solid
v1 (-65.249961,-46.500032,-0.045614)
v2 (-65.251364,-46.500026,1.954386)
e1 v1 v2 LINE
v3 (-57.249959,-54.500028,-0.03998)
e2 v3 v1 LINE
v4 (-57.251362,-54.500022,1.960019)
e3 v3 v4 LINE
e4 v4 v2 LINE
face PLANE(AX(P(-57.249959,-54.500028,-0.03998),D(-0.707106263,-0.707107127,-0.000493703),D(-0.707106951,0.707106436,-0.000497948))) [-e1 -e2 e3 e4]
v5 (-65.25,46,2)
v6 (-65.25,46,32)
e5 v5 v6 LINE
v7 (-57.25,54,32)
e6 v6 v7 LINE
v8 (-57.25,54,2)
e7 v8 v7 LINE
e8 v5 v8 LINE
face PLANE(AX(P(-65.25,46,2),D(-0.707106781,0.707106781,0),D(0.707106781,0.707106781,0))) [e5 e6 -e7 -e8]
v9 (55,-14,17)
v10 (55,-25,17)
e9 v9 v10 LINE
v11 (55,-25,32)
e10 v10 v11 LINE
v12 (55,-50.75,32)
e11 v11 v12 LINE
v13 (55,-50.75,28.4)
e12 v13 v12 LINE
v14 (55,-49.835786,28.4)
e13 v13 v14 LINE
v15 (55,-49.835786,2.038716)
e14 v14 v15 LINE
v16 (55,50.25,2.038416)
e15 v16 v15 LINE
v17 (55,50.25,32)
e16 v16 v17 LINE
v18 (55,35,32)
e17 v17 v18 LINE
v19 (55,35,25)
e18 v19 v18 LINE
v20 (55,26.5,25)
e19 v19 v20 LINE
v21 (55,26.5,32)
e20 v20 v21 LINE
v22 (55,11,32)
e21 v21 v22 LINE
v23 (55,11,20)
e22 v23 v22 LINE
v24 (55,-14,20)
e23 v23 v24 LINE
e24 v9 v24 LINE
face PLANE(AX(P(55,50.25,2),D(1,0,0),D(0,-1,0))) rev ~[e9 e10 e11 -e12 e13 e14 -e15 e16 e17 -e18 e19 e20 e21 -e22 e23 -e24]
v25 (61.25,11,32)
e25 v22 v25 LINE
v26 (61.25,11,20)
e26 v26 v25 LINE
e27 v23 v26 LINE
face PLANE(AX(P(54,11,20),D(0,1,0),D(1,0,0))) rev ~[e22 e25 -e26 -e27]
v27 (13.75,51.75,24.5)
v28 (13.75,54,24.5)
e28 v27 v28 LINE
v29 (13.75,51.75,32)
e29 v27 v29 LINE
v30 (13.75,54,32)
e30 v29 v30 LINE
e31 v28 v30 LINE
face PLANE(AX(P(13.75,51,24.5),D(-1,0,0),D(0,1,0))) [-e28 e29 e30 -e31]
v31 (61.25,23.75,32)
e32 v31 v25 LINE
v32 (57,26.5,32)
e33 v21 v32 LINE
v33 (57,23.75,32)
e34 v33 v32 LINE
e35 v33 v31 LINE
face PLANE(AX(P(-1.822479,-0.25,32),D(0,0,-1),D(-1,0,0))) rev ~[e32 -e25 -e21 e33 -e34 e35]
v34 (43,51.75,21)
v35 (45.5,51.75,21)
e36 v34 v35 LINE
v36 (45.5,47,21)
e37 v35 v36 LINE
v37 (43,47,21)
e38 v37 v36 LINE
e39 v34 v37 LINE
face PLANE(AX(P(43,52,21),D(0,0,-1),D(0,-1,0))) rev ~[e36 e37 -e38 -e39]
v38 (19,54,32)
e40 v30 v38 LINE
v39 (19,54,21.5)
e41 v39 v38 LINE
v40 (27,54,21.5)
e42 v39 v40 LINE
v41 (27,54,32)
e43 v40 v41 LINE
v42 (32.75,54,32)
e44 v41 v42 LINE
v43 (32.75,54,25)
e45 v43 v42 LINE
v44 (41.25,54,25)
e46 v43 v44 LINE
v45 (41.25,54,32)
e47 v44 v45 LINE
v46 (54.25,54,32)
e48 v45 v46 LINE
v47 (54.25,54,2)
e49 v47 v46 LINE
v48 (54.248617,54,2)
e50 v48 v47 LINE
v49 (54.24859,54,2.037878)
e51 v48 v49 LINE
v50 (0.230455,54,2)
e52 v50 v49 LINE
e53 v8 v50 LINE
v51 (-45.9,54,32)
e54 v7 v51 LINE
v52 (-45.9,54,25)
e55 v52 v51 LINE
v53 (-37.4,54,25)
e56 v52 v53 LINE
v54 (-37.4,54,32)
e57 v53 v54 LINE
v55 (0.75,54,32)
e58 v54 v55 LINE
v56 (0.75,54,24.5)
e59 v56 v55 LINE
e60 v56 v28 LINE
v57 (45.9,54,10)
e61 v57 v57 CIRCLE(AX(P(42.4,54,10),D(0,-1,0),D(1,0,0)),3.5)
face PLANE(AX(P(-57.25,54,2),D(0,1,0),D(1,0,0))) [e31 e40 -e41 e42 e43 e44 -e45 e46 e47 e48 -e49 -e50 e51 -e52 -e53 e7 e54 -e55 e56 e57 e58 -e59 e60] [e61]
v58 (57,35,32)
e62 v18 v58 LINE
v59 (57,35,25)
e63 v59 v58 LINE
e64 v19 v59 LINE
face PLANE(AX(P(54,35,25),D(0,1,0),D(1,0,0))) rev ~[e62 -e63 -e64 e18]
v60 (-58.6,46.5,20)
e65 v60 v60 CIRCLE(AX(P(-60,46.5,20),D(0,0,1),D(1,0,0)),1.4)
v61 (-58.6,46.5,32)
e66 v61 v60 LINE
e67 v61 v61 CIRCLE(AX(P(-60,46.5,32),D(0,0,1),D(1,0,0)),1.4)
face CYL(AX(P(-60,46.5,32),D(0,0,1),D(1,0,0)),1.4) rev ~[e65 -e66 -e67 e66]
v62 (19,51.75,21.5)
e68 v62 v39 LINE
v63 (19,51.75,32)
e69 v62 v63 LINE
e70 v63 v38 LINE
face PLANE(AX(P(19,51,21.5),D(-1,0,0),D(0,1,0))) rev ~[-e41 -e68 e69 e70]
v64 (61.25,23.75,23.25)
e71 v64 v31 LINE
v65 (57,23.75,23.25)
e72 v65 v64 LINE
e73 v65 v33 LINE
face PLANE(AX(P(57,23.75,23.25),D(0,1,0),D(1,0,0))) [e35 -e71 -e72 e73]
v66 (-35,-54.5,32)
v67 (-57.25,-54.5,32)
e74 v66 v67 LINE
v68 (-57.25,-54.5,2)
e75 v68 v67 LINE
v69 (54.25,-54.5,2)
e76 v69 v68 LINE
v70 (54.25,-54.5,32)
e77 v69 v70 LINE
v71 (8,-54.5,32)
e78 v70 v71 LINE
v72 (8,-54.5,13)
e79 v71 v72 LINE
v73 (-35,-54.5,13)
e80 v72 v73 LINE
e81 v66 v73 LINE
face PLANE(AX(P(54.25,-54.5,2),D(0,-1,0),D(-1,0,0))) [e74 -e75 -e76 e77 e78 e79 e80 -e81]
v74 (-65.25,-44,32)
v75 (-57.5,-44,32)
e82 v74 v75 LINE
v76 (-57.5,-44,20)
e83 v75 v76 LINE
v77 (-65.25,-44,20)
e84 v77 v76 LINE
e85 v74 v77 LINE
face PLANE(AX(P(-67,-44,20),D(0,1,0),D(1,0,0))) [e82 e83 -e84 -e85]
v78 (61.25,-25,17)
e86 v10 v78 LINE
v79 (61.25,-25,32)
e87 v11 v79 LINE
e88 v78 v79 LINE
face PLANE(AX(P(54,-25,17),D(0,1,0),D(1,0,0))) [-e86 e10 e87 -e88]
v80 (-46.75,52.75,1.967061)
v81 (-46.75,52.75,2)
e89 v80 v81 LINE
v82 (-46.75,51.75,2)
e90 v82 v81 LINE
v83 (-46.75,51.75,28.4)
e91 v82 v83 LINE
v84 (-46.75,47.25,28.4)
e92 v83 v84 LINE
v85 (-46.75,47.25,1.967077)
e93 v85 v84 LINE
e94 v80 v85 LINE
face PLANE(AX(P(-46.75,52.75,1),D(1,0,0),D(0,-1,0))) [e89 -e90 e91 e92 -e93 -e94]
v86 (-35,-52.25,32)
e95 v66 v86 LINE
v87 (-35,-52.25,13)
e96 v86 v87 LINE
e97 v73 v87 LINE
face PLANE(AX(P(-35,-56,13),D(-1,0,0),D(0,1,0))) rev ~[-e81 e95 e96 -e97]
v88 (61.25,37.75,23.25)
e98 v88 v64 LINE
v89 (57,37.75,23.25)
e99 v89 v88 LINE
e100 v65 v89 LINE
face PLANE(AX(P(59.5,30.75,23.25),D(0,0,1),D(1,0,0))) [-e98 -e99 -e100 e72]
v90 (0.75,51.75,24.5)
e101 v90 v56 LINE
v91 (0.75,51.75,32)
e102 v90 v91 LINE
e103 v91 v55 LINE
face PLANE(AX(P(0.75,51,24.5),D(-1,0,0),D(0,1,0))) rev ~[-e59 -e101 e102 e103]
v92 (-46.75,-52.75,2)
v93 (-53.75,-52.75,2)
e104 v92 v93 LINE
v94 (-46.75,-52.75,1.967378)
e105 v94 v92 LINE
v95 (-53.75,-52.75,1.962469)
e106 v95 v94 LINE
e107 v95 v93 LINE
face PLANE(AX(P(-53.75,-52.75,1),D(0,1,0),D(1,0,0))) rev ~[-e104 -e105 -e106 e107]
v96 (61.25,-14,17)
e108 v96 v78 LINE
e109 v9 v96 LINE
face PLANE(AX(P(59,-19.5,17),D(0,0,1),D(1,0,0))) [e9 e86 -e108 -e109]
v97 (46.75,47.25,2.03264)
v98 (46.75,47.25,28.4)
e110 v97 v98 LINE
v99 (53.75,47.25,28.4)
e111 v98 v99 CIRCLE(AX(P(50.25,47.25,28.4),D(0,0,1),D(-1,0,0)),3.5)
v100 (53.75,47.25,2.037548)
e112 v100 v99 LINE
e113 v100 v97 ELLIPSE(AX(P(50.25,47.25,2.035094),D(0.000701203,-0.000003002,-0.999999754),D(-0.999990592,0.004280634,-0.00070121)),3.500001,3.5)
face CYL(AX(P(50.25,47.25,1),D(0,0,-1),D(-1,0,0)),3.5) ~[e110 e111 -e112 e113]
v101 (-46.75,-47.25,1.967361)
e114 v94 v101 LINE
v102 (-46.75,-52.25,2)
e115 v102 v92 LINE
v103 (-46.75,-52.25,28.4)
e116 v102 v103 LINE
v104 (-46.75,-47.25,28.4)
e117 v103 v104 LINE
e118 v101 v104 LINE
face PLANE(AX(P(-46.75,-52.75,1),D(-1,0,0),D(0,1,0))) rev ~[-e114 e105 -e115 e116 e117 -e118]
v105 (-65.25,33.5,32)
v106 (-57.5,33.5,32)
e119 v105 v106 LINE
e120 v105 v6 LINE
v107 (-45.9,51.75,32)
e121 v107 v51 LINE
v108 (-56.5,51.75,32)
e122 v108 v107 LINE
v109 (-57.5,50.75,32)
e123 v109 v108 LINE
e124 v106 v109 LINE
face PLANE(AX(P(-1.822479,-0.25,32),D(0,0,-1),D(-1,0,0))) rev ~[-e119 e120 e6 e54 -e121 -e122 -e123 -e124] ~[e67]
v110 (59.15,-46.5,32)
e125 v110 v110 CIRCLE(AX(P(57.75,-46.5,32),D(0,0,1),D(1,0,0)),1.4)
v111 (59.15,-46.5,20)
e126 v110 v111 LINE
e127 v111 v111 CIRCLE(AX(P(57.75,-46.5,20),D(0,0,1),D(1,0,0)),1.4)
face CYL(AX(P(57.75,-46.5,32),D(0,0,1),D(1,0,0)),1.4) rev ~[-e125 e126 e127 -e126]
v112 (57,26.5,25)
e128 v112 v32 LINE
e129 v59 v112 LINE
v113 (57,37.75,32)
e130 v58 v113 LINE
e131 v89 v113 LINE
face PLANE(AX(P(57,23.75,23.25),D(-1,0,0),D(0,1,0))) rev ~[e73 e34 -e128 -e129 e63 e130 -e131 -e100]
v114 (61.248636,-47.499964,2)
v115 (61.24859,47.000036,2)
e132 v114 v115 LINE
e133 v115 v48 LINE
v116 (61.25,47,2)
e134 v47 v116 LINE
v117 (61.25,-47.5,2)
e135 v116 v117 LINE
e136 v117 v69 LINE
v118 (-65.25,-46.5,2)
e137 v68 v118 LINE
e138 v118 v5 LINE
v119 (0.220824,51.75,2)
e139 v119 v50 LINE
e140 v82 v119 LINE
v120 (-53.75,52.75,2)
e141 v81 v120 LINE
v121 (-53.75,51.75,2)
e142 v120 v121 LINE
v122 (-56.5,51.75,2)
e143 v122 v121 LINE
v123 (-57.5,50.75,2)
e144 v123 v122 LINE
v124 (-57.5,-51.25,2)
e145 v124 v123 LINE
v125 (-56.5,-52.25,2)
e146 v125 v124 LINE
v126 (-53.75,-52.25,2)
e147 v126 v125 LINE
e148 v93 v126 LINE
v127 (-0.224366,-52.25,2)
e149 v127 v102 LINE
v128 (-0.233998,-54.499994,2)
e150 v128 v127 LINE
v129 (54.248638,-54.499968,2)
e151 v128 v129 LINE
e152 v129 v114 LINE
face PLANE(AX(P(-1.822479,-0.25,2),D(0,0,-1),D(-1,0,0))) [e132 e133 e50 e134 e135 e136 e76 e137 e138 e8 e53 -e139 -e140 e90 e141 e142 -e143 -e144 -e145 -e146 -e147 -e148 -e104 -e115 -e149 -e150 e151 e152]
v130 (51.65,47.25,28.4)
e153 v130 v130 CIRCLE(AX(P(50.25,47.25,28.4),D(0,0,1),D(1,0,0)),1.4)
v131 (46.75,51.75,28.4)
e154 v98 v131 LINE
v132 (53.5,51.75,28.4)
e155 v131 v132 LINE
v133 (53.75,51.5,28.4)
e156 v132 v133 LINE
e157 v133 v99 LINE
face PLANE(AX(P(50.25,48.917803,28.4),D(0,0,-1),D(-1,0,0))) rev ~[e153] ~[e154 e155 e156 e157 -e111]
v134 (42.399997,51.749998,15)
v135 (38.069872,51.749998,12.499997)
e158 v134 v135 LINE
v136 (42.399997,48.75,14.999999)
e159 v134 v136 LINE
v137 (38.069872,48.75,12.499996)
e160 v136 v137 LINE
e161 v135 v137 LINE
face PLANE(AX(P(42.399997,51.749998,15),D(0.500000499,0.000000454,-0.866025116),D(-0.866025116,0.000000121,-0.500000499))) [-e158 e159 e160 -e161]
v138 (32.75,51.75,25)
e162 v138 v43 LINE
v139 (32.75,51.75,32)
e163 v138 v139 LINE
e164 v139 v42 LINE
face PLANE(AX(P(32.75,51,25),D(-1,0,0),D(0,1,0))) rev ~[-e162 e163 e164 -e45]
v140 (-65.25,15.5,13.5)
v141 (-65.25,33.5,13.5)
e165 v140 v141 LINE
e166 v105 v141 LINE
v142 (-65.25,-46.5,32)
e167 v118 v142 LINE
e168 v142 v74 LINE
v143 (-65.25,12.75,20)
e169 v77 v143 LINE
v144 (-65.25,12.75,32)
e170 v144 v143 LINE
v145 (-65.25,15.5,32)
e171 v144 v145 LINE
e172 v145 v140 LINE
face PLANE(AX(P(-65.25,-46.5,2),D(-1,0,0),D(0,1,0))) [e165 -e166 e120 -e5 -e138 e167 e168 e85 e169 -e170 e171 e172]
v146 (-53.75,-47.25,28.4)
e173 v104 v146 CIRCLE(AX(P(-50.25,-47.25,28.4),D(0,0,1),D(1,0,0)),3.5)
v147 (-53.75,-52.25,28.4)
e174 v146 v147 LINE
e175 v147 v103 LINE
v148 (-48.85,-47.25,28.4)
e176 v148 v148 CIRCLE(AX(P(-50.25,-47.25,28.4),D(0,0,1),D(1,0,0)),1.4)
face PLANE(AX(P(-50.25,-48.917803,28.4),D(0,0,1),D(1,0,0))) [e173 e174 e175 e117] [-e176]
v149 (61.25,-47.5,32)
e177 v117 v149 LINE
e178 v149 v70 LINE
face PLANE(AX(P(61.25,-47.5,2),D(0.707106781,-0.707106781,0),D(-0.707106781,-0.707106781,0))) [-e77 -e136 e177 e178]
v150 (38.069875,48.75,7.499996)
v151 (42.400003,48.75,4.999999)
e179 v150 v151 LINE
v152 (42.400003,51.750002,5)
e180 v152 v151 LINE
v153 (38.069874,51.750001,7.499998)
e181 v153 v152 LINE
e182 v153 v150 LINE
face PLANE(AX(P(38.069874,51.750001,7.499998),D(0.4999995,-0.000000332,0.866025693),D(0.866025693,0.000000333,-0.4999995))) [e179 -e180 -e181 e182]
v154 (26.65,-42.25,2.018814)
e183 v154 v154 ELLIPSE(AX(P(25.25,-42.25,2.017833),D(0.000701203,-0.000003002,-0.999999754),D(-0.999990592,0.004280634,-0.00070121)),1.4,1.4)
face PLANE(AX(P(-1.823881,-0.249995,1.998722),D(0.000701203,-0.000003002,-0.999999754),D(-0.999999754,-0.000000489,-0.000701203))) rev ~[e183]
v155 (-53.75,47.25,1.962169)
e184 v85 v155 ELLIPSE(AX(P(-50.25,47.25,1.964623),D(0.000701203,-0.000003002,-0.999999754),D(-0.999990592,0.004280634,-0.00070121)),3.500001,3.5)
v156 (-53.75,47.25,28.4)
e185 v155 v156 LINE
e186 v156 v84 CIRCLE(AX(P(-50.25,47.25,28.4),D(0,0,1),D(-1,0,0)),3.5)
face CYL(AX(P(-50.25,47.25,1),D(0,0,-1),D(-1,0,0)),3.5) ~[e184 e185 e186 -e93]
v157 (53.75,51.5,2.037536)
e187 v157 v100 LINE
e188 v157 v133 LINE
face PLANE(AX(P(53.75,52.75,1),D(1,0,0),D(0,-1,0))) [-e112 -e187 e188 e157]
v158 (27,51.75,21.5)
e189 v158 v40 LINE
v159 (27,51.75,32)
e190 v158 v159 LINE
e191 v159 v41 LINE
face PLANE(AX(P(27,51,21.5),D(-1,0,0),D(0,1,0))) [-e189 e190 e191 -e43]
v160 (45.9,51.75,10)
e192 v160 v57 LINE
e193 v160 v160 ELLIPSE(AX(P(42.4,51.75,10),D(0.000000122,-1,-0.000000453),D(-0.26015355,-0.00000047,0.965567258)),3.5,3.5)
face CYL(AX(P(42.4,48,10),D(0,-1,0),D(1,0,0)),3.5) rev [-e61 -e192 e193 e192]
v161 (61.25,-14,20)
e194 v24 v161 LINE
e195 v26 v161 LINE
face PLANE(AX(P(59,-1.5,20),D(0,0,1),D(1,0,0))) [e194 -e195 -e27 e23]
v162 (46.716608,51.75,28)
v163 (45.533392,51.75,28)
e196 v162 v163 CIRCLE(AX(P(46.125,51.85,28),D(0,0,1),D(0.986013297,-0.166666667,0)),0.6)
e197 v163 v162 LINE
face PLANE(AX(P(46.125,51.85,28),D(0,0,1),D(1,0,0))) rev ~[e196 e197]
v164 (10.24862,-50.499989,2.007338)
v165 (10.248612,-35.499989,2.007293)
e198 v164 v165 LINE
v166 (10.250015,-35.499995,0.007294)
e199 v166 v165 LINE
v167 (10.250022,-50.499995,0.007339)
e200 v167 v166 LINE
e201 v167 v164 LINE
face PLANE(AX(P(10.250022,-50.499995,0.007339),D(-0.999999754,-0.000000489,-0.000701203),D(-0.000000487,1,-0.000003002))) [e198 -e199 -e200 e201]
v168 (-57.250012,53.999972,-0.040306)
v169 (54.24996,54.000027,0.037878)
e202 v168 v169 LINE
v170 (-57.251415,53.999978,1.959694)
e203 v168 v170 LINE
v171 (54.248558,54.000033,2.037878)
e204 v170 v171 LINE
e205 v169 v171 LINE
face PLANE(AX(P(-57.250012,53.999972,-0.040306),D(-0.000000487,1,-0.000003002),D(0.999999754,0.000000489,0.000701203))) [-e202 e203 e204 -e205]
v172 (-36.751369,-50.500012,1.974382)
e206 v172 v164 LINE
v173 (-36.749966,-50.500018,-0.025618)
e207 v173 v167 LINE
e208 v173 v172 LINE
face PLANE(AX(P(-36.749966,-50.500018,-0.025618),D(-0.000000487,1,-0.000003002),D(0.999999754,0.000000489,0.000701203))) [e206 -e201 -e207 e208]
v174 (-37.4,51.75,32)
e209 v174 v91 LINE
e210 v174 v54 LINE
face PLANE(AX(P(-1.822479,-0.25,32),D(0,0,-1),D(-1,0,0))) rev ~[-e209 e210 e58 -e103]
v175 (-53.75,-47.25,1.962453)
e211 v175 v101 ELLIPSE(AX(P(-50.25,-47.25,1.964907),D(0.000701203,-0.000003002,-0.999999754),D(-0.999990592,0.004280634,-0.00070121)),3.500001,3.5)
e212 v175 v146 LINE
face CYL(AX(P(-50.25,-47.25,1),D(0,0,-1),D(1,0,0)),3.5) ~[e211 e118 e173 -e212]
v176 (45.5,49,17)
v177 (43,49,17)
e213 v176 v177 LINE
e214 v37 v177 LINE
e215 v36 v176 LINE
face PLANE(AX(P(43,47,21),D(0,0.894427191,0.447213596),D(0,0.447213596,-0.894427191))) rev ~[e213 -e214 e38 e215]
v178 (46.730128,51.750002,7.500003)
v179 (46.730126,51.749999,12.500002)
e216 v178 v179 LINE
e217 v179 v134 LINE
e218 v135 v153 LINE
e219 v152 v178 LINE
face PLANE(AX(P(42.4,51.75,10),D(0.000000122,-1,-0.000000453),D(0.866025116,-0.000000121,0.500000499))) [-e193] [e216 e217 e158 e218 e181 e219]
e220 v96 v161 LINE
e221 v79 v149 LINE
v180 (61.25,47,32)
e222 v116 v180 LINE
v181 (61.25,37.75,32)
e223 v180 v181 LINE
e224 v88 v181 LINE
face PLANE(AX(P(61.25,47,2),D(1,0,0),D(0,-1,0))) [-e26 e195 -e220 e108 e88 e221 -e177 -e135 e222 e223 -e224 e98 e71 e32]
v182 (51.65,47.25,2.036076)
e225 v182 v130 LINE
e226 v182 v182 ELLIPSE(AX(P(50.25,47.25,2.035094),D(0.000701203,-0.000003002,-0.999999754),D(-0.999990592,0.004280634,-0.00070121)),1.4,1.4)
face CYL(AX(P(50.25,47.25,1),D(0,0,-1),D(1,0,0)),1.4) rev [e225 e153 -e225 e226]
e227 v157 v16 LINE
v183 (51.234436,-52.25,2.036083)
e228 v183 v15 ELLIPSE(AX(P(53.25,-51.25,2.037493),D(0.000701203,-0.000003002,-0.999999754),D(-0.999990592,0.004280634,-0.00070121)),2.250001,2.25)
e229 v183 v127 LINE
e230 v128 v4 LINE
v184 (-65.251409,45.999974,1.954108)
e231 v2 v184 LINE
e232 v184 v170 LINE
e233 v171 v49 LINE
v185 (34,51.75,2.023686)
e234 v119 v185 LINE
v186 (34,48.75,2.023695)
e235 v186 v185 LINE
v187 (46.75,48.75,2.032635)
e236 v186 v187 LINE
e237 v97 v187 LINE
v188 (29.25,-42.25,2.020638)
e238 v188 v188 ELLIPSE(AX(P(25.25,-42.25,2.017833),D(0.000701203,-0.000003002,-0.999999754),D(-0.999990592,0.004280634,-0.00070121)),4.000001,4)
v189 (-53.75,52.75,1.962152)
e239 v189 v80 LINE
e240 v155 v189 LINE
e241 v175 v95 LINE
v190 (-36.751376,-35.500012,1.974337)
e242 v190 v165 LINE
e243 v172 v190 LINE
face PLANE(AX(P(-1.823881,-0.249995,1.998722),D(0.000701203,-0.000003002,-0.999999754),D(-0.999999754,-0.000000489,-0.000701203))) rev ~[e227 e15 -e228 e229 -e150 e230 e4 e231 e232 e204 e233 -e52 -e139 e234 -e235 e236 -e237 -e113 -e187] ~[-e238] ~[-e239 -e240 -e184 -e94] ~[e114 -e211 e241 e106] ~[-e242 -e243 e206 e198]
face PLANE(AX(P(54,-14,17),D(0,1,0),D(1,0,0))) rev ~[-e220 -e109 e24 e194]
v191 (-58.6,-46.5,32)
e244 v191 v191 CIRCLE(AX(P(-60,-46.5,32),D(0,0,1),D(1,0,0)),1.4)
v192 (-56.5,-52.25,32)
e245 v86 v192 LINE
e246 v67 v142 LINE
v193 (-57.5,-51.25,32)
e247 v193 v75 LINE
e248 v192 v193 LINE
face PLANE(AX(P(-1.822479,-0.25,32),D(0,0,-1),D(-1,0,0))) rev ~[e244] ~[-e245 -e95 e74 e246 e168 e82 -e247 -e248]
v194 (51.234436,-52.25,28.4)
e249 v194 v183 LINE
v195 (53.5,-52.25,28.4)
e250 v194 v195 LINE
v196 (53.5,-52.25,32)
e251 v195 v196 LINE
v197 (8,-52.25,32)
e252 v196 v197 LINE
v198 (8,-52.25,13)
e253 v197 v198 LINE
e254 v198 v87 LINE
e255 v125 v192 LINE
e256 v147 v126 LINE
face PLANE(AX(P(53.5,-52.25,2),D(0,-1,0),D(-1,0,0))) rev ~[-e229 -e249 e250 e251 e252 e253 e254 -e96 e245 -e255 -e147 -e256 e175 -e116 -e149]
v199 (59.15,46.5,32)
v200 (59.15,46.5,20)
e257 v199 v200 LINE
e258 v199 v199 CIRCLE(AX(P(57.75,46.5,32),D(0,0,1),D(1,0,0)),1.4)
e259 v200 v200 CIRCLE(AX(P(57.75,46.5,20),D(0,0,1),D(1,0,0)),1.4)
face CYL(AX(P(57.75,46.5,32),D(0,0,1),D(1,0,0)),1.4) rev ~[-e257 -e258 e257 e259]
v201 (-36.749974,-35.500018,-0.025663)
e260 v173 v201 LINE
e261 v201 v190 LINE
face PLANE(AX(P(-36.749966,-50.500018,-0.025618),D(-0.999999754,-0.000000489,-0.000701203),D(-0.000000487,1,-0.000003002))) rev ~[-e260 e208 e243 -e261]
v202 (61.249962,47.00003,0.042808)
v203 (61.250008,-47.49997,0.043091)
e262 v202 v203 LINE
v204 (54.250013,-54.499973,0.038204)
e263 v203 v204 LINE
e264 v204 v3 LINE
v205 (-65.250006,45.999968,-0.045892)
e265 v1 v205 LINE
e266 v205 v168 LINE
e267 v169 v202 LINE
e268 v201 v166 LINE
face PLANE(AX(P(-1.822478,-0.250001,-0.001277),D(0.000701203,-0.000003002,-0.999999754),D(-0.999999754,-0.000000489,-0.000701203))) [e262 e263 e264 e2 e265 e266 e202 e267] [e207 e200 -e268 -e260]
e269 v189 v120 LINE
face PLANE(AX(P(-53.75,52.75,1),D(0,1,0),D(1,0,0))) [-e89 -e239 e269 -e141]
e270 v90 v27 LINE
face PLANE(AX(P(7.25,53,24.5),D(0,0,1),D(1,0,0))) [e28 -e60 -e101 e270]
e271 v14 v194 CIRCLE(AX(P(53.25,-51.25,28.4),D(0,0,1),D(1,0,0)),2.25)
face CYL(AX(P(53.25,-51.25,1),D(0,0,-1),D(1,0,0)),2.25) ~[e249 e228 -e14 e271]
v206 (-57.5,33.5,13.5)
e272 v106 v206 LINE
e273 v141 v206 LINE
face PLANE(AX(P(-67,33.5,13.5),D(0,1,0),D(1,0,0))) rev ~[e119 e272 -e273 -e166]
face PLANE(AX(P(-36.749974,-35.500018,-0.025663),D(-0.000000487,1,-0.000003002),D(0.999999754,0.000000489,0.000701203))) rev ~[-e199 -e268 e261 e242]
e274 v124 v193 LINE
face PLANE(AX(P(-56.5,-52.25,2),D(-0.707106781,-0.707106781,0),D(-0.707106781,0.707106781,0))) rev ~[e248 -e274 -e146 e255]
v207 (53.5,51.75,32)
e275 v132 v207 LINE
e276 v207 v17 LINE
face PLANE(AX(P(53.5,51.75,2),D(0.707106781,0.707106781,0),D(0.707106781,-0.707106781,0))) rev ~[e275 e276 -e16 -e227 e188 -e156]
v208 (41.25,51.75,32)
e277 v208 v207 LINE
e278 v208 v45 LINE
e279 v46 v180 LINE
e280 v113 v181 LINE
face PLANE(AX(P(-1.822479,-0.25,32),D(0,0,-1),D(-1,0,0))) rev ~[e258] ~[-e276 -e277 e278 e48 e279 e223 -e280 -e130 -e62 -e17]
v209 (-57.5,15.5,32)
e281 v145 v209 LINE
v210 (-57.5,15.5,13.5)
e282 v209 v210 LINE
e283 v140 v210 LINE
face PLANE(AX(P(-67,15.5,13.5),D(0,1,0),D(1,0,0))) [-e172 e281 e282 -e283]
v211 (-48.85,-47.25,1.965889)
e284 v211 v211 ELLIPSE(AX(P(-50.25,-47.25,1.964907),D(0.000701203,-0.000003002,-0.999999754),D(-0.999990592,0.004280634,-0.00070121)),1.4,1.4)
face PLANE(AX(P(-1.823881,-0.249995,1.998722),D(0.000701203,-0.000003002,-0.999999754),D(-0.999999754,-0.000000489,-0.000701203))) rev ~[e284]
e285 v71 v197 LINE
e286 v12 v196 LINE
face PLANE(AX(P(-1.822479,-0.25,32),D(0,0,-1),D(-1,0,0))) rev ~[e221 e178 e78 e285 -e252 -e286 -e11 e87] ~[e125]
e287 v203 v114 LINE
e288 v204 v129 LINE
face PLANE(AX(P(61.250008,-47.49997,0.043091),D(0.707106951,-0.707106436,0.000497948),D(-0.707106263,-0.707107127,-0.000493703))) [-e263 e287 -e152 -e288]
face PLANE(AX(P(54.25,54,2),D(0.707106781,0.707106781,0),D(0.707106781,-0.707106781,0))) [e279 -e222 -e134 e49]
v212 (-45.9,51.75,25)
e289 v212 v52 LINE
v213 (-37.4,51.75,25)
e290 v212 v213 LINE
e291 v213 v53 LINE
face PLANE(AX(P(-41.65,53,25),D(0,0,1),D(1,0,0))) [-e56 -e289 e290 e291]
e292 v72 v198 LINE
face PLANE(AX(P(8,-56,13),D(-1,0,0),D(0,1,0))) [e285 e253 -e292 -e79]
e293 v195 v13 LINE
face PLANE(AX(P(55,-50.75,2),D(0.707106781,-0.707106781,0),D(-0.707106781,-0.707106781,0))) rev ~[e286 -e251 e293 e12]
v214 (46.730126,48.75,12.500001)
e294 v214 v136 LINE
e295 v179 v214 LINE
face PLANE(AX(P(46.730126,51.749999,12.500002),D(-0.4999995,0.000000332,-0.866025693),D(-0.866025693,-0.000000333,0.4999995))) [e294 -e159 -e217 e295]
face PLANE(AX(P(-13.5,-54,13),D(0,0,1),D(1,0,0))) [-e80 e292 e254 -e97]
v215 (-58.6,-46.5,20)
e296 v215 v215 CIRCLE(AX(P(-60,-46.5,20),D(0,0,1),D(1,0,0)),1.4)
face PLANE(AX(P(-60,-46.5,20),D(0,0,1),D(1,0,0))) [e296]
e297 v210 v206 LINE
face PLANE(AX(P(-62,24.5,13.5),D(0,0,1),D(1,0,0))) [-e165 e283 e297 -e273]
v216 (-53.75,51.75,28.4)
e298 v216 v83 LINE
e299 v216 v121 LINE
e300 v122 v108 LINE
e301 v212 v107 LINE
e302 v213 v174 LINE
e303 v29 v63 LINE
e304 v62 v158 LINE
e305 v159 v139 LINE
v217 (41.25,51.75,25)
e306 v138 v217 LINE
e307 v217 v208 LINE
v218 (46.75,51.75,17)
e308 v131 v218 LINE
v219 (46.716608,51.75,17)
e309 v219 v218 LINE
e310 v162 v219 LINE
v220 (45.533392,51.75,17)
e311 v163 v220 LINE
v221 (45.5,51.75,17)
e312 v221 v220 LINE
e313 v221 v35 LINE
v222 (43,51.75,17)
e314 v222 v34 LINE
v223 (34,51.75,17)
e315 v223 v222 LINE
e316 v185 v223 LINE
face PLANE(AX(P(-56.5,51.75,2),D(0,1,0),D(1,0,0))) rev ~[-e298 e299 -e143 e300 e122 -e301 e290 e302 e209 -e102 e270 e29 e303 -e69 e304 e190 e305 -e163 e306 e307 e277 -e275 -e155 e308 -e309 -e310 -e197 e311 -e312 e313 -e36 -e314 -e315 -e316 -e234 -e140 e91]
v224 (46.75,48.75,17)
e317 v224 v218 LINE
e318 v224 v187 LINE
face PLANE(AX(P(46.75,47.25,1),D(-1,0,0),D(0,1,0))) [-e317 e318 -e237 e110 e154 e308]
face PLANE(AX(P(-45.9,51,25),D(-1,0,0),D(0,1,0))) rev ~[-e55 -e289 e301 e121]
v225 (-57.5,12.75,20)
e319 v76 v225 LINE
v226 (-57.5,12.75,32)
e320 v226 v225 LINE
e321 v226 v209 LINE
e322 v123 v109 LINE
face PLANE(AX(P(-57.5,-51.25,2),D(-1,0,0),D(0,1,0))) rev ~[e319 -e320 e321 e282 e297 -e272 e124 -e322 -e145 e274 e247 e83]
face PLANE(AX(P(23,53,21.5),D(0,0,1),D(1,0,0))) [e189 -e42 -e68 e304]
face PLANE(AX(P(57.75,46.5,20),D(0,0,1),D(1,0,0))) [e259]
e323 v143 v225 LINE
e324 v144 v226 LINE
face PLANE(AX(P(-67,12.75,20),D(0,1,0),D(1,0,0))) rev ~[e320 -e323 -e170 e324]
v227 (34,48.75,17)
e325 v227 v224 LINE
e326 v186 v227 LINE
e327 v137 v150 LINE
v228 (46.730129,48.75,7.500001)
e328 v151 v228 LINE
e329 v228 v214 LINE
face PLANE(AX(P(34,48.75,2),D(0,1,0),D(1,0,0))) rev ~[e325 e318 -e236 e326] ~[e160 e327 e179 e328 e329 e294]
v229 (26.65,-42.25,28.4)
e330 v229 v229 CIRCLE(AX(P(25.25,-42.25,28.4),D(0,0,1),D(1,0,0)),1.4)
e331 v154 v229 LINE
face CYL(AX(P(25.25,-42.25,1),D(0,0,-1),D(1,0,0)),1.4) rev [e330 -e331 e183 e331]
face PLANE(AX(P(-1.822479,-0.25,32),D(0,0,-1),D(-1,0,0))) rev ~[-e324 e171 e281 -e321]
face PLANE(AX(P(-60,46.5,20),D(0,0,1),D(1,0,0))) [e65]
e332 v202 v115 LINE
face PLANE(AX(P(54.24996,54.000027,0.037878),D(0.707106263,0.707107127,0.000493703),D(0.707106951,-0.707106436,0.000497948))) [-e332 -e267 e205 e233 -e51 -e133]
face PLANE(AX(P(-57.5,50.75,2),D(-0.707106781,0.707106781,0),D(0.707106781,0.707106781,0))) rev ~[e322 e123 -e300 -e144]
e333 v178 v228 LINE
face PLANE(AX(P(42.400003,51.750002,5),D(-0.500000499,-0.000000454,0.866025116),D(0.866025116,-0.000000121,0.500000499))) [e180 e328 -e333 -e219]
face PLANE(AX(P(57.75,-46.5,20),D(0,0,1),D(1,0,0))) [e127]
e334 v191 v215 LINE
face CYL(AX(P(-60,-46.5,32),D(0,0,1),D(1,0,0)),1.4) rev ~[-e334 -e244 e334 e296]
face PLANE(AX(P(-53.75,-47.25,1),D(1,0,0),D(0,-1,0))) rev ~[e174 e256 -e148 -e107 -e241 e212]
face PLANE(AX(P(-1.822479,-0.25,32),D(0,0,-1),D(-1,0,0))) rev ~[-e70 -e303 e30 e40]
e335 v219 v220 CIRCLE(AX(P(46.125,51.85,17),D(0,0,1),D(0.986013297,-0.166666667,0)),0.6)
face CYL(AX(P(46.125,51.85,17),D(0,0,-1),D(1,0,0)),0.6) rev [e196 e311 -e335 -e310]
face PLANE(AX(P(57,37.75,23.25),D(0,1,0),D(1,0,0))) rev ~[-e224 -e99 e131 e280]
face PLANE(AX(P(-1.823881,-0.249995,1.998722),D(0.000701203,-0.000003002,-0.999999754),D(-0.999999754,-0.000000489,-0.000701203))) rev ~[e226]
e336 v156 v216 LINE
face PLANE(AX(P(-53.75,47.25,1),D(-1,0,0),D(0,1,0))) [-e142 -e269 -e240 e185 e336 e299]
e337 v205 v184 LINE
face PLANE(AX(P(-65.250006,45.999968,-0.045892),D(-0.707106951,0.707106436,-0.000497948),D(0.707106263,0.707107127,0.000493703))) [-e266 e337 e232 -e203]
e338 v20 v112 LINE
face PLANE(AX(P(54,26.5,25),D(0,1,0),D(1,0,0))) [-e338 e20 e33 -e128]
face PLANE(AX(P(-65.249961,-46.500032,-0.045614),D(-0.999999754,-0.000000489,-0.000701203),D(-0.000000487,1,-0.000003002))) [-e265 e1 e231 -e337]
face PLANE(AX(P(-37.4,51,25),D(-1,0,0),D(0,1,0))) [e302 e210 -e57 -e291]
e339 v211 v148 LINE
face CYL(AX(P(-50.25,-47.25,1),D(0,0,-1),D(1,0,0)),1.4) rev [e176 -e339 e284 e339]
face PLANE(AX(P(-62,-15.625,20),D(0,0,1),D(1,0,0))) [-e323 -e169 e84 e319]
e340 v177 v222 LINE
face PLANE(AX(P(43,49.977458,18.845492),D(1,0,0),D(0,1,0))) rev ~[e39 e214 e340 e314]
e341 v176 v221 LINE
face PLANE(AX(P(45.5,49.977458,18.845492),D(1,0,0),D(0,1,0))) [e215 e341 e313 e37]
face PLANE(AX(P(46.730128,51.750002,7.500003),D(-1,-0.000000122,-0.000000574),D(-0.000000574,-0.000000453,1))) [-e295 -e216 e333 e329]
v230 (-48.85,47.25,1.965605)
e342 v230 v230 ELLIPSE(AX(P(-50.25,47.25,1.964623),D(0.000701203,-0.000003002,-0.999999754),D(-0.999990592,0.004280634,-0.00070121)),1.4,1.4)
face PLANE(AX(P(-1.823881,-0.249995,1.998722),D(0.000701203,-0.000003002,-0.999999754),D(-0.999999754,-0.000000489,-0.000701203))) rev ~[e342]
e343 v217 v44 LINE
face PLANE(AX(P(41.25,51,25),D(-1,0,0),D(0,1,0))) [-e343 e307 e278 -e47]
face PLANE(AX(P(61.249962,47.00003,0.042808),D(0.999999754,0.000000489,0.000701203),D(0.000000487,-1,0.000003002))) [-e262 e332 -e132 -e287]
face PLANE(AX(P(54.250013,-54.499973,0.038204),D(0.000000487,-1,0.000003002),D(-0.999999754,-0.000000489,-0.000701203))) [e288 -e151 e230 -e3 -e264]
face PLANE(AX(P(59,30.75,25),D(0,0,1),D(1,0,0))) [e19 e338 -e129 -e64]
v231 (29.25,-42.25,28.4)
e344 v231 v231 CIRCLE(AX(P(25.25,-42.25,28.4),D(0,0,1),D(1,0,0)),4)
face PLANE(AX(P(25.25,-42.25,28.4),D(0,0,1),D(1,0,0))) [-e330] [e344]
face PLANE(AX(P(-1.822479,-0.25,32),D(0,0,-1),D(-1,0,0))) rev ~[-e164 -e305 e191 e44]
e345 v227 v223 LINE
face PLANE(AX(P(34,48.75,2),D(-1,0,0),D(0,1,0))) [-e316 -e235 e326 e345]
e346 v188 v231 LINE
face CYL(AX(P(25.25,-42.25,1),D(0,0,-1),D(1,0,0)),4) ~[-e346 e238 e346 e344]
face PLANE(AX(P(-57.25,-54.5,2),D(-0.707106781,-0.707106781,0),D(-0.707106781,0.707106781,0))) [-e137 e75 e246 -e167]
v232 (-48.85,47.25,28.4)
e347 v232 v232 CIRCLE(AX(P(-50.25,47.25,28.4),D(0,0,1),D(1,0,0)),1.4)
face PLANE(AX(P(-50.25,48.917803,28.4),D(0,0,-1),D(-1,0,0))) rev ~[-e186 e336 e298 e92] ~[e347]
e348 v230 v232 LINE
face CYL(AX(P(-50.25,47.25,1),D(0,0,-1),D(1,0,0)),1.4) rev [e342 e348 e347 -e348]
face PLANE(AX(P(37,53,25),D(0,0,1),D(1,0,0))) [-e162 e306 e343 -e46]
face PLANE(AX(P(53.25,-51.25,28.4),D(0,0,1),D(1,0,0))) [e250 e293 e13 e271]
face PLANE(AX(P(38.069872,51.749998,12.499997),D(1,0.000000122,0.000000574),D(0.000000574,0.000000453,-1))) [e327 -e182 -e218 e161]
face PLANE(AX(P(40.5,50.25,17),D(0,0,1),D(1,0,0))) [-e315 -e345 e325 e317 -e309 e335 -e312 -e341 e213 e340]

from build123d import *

# Parameters (mm, degrees)
CYLINDER007_R              = 3.5
CYLINDER007_DEPTH          = 8
CYLINDER007_ROLL_ANGLE     = -90
CYLINDER008_R              = 0.6
CYLINDER008_DEPTH          = 11
PRISM001_DEPTH             = 10
PRISM001_ROLL_ANGLE        = 90.00003
PRISM001_PITCH_ANGLE       = -30.000033
PRISM001_PLACEMENT_ANGLE   = -8e-06
BOX015_W                   = 10
BOX015_H                   = 18
BOX015_DEPTH               = 20
BOX016_W                   = 10
BOX016_H                   = 11
BOX016_DEPTH               = 15
BOX017_W                   = 10
BOX017_H                   = 25
BOX017_DEPTH               = 12
BOX018_W                   = 8.5
BOX018_H                   = 4
BOX018_DEPTH               = 7
BOX019_W                   = 8
BOX019_H                   = 4
BOX019_DEPTH               = 10.5
BOX020_W                   = 8.5
BOX020_H                   = 4
BOX020_DEPTH               = 7
BOX021_W                   = 13
BOX021_H                   = 4
BOX021_DEPTH               = 8
BOX022_W                   = 10
BOX022_H                   = 8.5
BOX022_DEPTH               = 8
BOX023_W                   = 5
BOX023_H                   = 14
BOX023_DEPTH               = 9
BOX024_W                   = 43
BOX024_H                   = 4
BOX024_DEPTH               = 19
SKETCH104_R                = 1.4
EXTRUDE093_DEPTH           = 12
BOX014_W                   = 10
BOX014_H                   = 56.75
BOX014_DEPTH               = 12
EXTRUDE092_DEPTH           = 30
EXTRUDE091_DEPTH           = 30
SKETCH101_R                = 4
SKETCH101_R_2              = 1.4
SKETCH101_R_3              = 2.25
EXTRUDE090_DEPTH           = 27.4
BOX026_W                   = 13
BOX026_H                   = 3
BOX026_DEPTH               = 15
EXTRUDE094_DEPTH           = 2.5
SKETCH100_W                = 47
SKETCH100_H                = 15
EXTRUDE089_DEPTH           = 2
EXTRUDE089_ROLL_ANGLE      = -0.000172
EXTRUDE089_PITCH_ANGLE     = -0.040176
EXTRUDE089_PLACEMENT_ANGLE = 2.8e-05


with BuildPart() as cylinder007:
    # Cylinder007 → Cylinder007 (new body)
    with BuildSketch(Plane.XY):
        Circle(CYLINDER007_R)
    extrude(amount=CYLINDER007_DEPTH)


with BuildPart() as cylinder007_1:
    # Cylinder007 roll: moved
    add(cylinder007.part.rotate(Axis((0, 0, 0), (1, 0, 0)), CYLINDER007_ROLL_ANGLE))


with BuildPart() as cylinder007_2:
    # Cylinder007 placement: moved
    add(cylinder007_1.part.moved(Location((42.4, 48, 10))))


with BuildPart() as cylinder008:
    # Cylinder008 → Cylinder008 (new body)
    with BuildSketch(Plane(origin=(46.125, 51.85, 17), x_dir=(1, 0, 0), z_dir=(0, 0, 1))):
        Circle(CYLINDER008_R)
    extrude(amount=CYLINDER008_DEPTH)


with BuildPart() as fusion035005:
    # Prism001 → Prism001 (new body)
    with BuildSketch(Plane.XY):
        Polygon((5, 0), (2.5, 4.330127), (-2.5, 4.330127), (-5, 0), (-2.5, -4.330127), (2.5, -4.330127), align=None)
    extrude(amount=PRISM001_DEPTH)


with BuildPart() as fusion035005_1:
    # Prism001 roll: moved
    add(fusion035005.part.rotate(Axis((0, 0, 0), (1, 0, 0)), PRISM001_ROLL_ANGLE))


with BuildPart() as fusion035005_2:
    # Prism001 pitch: moved
    add(fusion035005_1.part.rotate(Axis((0, 0, 0), (0, 1, 0)), PRISM001_PITCH_ANGLE))


with BuildPart() as fusion035005_3:
    # Prism001 placement: moved
    add(fusion035005_2.part.moved(Location((42.4, 51.75, 10))).rotate(Axis((42.4, 51.75, 10), (0, 0, 1)), PRISM001_PLACEMENT_ANGLE))

    # Fusion035005: union Cylinder007, Cylinder008
    add(cylinder007_2.part)
    add(cylinder008.part)


with BuildPart() as cube015:
    # Box015 → Box015 (new body)
    with BuildSketch(Plane(origin=(-67, 15.5, 8.5), x_dir=(1, 0, 0), z_dir=(0, 0, 1))):
        with Locations((5, 9)):
            Rectangle(BOX015_W, BOX015_H)
    extrude(amount=BOX015_DEPTH)


with BuildPart() as cube016:
    # Box016 → Box016 (new body)
    with BuildSketch(Plane(origin=(54, -25, 12), x_dir=(1, 0, 0), z_dir=(0, 0, 1))):
        with Locations((5, 5.5)):
            Rectangle(BOX016_W, BOX016_H)
    extrude(amount=BOX016_DEPTH)


with BuildPart() as cube017:
    # Box017 → Box017 (new body)
    with BuildSketch(Plane(origin=(54, -14, 15), x_dir=(1, 0, 0), z_dir=(0, 0, 1))):
        with Locations((5, 12.5)):
            Rectangle(BOX017_W, BOX017_H)
    extrude(amount=BOX017_DEPTH)


with BuildPart() as cube018:
    # Box018 → Box018 (new body)
    with BuildSketch(Plane(origin=(32.75, 51, 20), x_dir=(1, 0, 0), z_dir=(0, 0, 1))):
        with Locations((4.25, 2)):
            Rectangle(BOX018_W, BOX018_H)
    extrude(amount=BOX018_DEPTH)


with BuildPart() as cube019:
    # Box019 → Box019 (new body)
    with BuildSketch(Plane(origin=(19, 51, 16.5), x_dir=(1, 0, 0), z_dir=(0, 0, 1))):
        with Locations((4, 2)):
            Rectangle(BOX019_W, BOX019_H)
    extrude(amount=BOX019_DEPTH)


with BuildPart() as cube020:
    # Box020 → Box020 (new body)
    with BuildSketch(Plane(origin=(-45.9, 51, 20), x_dir=(1, 0, 0), z_dir=(0, 0, 1))):
        with Locations((4.25, 2)):
            Rectangle(BOX020_W, BOX020_H)
    extrude(amount=BOX020_DEPTH)


with BuildPart() as cube021:
    # Box021 → Box021 (new body)
    with BuildSketch(Plane(origin=(0.75, 51, 19.5), x_dir=(1, 0, 0), z_dir=(0, 0, 1))):
        with Locations((6.5, 2)):
            Rectangle(BOX021_W, BOX021_H)
    extrude(amount=BOX021_DEPTH)


with BuildPart() as cube022:
    # Box022 → Box022 (new body)
    with BuildSketch(Plane(origin=(54, 26.5, 20), x_dir=(1, 0, 0), z_dir=(0, 0, 1))):
        with Locations((5, 4.25)):
            Rectangle(BOX022_W, BOX022_H)
    extrude(amount=BOX022_DEPTH)


with BuildPart() as cube023:
    # Box023 → Box023 (new body)
    with BuildSketch(Plane(origin=(57, 23.75, 18.25), x_dir=(1, 0, 0), z_dir=(0, 0, 1))):
        with Locations((2.5, 7)):
            Rectangle(BOX023_W, BOX023_H)
    extrude(amount=BOX023_DEPTH)


with BuildPart() as cube024:
    # Box024 → Box024 (new body)
    with BuildSketch(Plane(origin=(-35, -56, 8), x_dir=(1, 0, 0), z_dir=(0, 0, 1))):
        with Locations((21.5, 2)):
            Rectangle(BOX024_W, BOX024_H)
    extrude(amount=BOX024_DEPTH)


with BuildPart() as extrude093:
    # Sketch104 → Extrude093 (new body)
    with BuildSketch(Plane.XY.offset(27)):
        with Locations((-60, 46.5)):
            Circle(SKETCH104_R)
        with Locations((57.75, 46.5)):
            Circle(SKETCH104_R)
        with Locations((-60, -46.5)):
            Circle(SKETCH104_R)
        with Locations((57.75, -46.5)):
            Circle(SKETCH104_R)
    extrude(amount=-EXTRUDE093_DEPTH)


with BuildPart() as fusion035003:
    # Box014 → Box014 (new body)
    with BuildSketch(Plane(origin=(-67, -44, 15), x_dir=(1, 0, 0), z_dir=(0, 0, 1))):
        with Locations((5, 28.375)):
            Rectangle(BOX014_W, BOX014_H)
    extrude(amount=BOX014_DEPTH)

    # Fusion035003: union Cube015, Cube016, Cube017, Cube018, Cube019, Cube020, Cube021, Cube022, Cube023, Cube024, Extrude093
    add(cube015.part)
    add(cube016.part)
    add(cube017.part)
    add(cube018.part)
    add(cube019.part)
    add(cube020.part)
    add(cube021.part)
    add(cube022.part)
    add(cube023.part)
    add(cube024.part)
    add(extrude093.part)


with BuildPart() as fusion035003_1:
    # Fusion035003 placement: moved
    add(fusion035003.part.moved(Location((0, 0, 5))))


with BuildPart() as extrude092:
    # Sketch103 → Extrude092 (new body)
    with BuildSketch(Plane.XY):
        Polygon((53.5, -52.25), (-56.5, -52.25), (-57.5, -51.25), (-57.5, 50.75), (-56.5, 51.75), (53.5, 51.75), (55, 50.25), (55, -50.75), align=None)
    extrude(amount=EXTRUDE092_DEPTH)


with BuildPart() as cut008:
    # Sketch102 → Extrude091 (new body)
    with BuildSketch(Plane.XY):
        Polygon((54.25, -54.5), (-57.25, -54.5), (-65.25, -46.5), (-65.25, 46), (-57.25, 54), (54.25, 54), (61.25, 47), (61.25, -47.5), align=None)
    extrude(amount=EXTRUDE091_DEPTH)

    # Cut007: cut Extrude092
    add(extrude092.part, mode=Mode.SUBTRACT)


with BuildPart() as cut008_1:
    # Cut007 placement: moved
    add(cut008.part.moved(Location((0, 0, 2))))

    # Cut008: cut Fusion035003
    add(fusion035003_1.part, mode=Mode.SUBTRACT)


with BuildPart() as extrude090:
    # Sketch101 → Extrude090 (new body)
    with BuildSketch(Plane.XY):
        with Locations((25.25, -42.25)):
            Circle(SKETCH101_R)
        with Locations((25.25, -42.25)):
            Circle(SKETCH101_R_2, mode=Mode.SUBTRACT)
        with Locations((53.25, -51.25)):
            Circle(SKETCH101_R_3)
        with BuildLine():
            Line((-53.75, 52.75), (-46.75, 52.75))
            Line((-46.75, 52.75), (-46.75, 47.25))
            ThreePointArc((-53.75, 47.25), (-50.25, 43.75), (-46.75, 47.25))
            Line((-53.75, 47.25), (-53.75, 52.75))
        make_face()
        with Locations((-50.25, 47.25)):
            Circle(SKETCH101_R_2, mode=Mode.SUBTRACT)
        with BuildLine():
            Line((46.75, 52.75), (53.75, 52.75))
            Line((53.75, 52.75), (53.75, 47.25))
            ThreePointArc((46.75, 47.25), (50.25, 43.75), (53.75, 47.25))
            Line((46.75, 47.25), (46.75, 52.75))
        make_face()
        with Locations((50.25, 47.25)):
            Circle(SKETCH101_R_2, mode=Mode.SUBTRACT)
        with BuildLine():
            Line((-53.75, -52.75), (-46.75, -52.75))
            Line((-46.75, -52.75), (-46.75, -47.25))
            ThreePointArc((-46.75, -47.25), (-50.25, -43.75), (-53.75, -47.25))
            Line((-53.75, -47.25), (-53.75, -52.75))
        make_face()
        with Locations((-50.25, -47.25)):
            Circle(SKETCH101_R_2, mode=Mode.SUBTRACT)
    extrude(amount=EXTRUDE090_DEPTH)


with BuildPart() as extrude090_1:
    # Extrude090 placement: moved
    add(extrude090.part.moved(Location((0, 0, 1))))


with BuildPart() as cube026:
    # Box026 → Box026 (new body)
    with BuildSketch(Plane(origin=(34, 48.75, 2), x_dir=(1, 0, 0), z_dir=(0, 0, 1))):
        with Locations((6.5, 1.5)):
            Rectangle(BOX026_W, BOX026_H)
    extrude(amount=BOX026_DEPTH)


with BuildPart() as extrude094:
    # Sketch105 → Extrude094 (new body)
    with BuildSketch(Plane.YZ):
        Polygon((0, 0), (0, 5), (-5, 5), (-2.5, 0), align=None)
    extrude(amount=EXTRUDE094_DEPTH)


with BuildPart() as extrude094_1:
    # Extrude094 placement: moved
    add(extrude094.part.moved(Location((43, 52, 16))))


with BuildPart() as colibri3box:
    # Sketch100 → Extrude089 (new body)
    with BuildSketch(Plane.XY):
        Polygon((54.25, -54.5), (-57.25, -54.5), (-65.25, -46.5), (-65.25, 46), (-57.25, 54), (54.25, 54), (61.25, 47), (61.25, -47.5), align=None)
        with Locations((-13.25, -43)):
            Rectangle(SKETCH100_W, SKETCH100_H, mode=Mode.SUBTRACT)
    extrude(amount=EXTRUDE089_DEPTH)


with BuildPart() as colibri3box_1:
    # Extrude089 roll: moved
    add(colibri3box.part.rotate(Axis((0, 0, 0), (1, 0, 0)), EXTRUDE089_ROLL_ANGLE))


with BuildPart() as colibri3box_2:
    # Extrude089 pitch: moved
    add(colibri3box_1.part.rotate(Axis((0, 0, 0), (0, 1, 0)), EXTRUDE089_PITCH_ANGLE))


with BuildPart() as colibri3box_3:
    # Extrude089 placement: moved
    add(colibri3box_2.part.rotate(Axis((0, 0, 0), (0, 0, 1)), EXTRUDE089_PLACEMENT_ANGLE))

    # Fusion035002: union Extrude090, Cube026, Extrude094
    add(extrude090_1.part)
    add(cube026.part)
    add(extrude094_1.part)

    # Fusion035004: union Cut008
    add(cut008_1.part)

    # Cut009: cut Fusion035005
    add(fusion035005_3.part, mode=Mode.SUBTRACT)


solid = colibri3box_3.part
